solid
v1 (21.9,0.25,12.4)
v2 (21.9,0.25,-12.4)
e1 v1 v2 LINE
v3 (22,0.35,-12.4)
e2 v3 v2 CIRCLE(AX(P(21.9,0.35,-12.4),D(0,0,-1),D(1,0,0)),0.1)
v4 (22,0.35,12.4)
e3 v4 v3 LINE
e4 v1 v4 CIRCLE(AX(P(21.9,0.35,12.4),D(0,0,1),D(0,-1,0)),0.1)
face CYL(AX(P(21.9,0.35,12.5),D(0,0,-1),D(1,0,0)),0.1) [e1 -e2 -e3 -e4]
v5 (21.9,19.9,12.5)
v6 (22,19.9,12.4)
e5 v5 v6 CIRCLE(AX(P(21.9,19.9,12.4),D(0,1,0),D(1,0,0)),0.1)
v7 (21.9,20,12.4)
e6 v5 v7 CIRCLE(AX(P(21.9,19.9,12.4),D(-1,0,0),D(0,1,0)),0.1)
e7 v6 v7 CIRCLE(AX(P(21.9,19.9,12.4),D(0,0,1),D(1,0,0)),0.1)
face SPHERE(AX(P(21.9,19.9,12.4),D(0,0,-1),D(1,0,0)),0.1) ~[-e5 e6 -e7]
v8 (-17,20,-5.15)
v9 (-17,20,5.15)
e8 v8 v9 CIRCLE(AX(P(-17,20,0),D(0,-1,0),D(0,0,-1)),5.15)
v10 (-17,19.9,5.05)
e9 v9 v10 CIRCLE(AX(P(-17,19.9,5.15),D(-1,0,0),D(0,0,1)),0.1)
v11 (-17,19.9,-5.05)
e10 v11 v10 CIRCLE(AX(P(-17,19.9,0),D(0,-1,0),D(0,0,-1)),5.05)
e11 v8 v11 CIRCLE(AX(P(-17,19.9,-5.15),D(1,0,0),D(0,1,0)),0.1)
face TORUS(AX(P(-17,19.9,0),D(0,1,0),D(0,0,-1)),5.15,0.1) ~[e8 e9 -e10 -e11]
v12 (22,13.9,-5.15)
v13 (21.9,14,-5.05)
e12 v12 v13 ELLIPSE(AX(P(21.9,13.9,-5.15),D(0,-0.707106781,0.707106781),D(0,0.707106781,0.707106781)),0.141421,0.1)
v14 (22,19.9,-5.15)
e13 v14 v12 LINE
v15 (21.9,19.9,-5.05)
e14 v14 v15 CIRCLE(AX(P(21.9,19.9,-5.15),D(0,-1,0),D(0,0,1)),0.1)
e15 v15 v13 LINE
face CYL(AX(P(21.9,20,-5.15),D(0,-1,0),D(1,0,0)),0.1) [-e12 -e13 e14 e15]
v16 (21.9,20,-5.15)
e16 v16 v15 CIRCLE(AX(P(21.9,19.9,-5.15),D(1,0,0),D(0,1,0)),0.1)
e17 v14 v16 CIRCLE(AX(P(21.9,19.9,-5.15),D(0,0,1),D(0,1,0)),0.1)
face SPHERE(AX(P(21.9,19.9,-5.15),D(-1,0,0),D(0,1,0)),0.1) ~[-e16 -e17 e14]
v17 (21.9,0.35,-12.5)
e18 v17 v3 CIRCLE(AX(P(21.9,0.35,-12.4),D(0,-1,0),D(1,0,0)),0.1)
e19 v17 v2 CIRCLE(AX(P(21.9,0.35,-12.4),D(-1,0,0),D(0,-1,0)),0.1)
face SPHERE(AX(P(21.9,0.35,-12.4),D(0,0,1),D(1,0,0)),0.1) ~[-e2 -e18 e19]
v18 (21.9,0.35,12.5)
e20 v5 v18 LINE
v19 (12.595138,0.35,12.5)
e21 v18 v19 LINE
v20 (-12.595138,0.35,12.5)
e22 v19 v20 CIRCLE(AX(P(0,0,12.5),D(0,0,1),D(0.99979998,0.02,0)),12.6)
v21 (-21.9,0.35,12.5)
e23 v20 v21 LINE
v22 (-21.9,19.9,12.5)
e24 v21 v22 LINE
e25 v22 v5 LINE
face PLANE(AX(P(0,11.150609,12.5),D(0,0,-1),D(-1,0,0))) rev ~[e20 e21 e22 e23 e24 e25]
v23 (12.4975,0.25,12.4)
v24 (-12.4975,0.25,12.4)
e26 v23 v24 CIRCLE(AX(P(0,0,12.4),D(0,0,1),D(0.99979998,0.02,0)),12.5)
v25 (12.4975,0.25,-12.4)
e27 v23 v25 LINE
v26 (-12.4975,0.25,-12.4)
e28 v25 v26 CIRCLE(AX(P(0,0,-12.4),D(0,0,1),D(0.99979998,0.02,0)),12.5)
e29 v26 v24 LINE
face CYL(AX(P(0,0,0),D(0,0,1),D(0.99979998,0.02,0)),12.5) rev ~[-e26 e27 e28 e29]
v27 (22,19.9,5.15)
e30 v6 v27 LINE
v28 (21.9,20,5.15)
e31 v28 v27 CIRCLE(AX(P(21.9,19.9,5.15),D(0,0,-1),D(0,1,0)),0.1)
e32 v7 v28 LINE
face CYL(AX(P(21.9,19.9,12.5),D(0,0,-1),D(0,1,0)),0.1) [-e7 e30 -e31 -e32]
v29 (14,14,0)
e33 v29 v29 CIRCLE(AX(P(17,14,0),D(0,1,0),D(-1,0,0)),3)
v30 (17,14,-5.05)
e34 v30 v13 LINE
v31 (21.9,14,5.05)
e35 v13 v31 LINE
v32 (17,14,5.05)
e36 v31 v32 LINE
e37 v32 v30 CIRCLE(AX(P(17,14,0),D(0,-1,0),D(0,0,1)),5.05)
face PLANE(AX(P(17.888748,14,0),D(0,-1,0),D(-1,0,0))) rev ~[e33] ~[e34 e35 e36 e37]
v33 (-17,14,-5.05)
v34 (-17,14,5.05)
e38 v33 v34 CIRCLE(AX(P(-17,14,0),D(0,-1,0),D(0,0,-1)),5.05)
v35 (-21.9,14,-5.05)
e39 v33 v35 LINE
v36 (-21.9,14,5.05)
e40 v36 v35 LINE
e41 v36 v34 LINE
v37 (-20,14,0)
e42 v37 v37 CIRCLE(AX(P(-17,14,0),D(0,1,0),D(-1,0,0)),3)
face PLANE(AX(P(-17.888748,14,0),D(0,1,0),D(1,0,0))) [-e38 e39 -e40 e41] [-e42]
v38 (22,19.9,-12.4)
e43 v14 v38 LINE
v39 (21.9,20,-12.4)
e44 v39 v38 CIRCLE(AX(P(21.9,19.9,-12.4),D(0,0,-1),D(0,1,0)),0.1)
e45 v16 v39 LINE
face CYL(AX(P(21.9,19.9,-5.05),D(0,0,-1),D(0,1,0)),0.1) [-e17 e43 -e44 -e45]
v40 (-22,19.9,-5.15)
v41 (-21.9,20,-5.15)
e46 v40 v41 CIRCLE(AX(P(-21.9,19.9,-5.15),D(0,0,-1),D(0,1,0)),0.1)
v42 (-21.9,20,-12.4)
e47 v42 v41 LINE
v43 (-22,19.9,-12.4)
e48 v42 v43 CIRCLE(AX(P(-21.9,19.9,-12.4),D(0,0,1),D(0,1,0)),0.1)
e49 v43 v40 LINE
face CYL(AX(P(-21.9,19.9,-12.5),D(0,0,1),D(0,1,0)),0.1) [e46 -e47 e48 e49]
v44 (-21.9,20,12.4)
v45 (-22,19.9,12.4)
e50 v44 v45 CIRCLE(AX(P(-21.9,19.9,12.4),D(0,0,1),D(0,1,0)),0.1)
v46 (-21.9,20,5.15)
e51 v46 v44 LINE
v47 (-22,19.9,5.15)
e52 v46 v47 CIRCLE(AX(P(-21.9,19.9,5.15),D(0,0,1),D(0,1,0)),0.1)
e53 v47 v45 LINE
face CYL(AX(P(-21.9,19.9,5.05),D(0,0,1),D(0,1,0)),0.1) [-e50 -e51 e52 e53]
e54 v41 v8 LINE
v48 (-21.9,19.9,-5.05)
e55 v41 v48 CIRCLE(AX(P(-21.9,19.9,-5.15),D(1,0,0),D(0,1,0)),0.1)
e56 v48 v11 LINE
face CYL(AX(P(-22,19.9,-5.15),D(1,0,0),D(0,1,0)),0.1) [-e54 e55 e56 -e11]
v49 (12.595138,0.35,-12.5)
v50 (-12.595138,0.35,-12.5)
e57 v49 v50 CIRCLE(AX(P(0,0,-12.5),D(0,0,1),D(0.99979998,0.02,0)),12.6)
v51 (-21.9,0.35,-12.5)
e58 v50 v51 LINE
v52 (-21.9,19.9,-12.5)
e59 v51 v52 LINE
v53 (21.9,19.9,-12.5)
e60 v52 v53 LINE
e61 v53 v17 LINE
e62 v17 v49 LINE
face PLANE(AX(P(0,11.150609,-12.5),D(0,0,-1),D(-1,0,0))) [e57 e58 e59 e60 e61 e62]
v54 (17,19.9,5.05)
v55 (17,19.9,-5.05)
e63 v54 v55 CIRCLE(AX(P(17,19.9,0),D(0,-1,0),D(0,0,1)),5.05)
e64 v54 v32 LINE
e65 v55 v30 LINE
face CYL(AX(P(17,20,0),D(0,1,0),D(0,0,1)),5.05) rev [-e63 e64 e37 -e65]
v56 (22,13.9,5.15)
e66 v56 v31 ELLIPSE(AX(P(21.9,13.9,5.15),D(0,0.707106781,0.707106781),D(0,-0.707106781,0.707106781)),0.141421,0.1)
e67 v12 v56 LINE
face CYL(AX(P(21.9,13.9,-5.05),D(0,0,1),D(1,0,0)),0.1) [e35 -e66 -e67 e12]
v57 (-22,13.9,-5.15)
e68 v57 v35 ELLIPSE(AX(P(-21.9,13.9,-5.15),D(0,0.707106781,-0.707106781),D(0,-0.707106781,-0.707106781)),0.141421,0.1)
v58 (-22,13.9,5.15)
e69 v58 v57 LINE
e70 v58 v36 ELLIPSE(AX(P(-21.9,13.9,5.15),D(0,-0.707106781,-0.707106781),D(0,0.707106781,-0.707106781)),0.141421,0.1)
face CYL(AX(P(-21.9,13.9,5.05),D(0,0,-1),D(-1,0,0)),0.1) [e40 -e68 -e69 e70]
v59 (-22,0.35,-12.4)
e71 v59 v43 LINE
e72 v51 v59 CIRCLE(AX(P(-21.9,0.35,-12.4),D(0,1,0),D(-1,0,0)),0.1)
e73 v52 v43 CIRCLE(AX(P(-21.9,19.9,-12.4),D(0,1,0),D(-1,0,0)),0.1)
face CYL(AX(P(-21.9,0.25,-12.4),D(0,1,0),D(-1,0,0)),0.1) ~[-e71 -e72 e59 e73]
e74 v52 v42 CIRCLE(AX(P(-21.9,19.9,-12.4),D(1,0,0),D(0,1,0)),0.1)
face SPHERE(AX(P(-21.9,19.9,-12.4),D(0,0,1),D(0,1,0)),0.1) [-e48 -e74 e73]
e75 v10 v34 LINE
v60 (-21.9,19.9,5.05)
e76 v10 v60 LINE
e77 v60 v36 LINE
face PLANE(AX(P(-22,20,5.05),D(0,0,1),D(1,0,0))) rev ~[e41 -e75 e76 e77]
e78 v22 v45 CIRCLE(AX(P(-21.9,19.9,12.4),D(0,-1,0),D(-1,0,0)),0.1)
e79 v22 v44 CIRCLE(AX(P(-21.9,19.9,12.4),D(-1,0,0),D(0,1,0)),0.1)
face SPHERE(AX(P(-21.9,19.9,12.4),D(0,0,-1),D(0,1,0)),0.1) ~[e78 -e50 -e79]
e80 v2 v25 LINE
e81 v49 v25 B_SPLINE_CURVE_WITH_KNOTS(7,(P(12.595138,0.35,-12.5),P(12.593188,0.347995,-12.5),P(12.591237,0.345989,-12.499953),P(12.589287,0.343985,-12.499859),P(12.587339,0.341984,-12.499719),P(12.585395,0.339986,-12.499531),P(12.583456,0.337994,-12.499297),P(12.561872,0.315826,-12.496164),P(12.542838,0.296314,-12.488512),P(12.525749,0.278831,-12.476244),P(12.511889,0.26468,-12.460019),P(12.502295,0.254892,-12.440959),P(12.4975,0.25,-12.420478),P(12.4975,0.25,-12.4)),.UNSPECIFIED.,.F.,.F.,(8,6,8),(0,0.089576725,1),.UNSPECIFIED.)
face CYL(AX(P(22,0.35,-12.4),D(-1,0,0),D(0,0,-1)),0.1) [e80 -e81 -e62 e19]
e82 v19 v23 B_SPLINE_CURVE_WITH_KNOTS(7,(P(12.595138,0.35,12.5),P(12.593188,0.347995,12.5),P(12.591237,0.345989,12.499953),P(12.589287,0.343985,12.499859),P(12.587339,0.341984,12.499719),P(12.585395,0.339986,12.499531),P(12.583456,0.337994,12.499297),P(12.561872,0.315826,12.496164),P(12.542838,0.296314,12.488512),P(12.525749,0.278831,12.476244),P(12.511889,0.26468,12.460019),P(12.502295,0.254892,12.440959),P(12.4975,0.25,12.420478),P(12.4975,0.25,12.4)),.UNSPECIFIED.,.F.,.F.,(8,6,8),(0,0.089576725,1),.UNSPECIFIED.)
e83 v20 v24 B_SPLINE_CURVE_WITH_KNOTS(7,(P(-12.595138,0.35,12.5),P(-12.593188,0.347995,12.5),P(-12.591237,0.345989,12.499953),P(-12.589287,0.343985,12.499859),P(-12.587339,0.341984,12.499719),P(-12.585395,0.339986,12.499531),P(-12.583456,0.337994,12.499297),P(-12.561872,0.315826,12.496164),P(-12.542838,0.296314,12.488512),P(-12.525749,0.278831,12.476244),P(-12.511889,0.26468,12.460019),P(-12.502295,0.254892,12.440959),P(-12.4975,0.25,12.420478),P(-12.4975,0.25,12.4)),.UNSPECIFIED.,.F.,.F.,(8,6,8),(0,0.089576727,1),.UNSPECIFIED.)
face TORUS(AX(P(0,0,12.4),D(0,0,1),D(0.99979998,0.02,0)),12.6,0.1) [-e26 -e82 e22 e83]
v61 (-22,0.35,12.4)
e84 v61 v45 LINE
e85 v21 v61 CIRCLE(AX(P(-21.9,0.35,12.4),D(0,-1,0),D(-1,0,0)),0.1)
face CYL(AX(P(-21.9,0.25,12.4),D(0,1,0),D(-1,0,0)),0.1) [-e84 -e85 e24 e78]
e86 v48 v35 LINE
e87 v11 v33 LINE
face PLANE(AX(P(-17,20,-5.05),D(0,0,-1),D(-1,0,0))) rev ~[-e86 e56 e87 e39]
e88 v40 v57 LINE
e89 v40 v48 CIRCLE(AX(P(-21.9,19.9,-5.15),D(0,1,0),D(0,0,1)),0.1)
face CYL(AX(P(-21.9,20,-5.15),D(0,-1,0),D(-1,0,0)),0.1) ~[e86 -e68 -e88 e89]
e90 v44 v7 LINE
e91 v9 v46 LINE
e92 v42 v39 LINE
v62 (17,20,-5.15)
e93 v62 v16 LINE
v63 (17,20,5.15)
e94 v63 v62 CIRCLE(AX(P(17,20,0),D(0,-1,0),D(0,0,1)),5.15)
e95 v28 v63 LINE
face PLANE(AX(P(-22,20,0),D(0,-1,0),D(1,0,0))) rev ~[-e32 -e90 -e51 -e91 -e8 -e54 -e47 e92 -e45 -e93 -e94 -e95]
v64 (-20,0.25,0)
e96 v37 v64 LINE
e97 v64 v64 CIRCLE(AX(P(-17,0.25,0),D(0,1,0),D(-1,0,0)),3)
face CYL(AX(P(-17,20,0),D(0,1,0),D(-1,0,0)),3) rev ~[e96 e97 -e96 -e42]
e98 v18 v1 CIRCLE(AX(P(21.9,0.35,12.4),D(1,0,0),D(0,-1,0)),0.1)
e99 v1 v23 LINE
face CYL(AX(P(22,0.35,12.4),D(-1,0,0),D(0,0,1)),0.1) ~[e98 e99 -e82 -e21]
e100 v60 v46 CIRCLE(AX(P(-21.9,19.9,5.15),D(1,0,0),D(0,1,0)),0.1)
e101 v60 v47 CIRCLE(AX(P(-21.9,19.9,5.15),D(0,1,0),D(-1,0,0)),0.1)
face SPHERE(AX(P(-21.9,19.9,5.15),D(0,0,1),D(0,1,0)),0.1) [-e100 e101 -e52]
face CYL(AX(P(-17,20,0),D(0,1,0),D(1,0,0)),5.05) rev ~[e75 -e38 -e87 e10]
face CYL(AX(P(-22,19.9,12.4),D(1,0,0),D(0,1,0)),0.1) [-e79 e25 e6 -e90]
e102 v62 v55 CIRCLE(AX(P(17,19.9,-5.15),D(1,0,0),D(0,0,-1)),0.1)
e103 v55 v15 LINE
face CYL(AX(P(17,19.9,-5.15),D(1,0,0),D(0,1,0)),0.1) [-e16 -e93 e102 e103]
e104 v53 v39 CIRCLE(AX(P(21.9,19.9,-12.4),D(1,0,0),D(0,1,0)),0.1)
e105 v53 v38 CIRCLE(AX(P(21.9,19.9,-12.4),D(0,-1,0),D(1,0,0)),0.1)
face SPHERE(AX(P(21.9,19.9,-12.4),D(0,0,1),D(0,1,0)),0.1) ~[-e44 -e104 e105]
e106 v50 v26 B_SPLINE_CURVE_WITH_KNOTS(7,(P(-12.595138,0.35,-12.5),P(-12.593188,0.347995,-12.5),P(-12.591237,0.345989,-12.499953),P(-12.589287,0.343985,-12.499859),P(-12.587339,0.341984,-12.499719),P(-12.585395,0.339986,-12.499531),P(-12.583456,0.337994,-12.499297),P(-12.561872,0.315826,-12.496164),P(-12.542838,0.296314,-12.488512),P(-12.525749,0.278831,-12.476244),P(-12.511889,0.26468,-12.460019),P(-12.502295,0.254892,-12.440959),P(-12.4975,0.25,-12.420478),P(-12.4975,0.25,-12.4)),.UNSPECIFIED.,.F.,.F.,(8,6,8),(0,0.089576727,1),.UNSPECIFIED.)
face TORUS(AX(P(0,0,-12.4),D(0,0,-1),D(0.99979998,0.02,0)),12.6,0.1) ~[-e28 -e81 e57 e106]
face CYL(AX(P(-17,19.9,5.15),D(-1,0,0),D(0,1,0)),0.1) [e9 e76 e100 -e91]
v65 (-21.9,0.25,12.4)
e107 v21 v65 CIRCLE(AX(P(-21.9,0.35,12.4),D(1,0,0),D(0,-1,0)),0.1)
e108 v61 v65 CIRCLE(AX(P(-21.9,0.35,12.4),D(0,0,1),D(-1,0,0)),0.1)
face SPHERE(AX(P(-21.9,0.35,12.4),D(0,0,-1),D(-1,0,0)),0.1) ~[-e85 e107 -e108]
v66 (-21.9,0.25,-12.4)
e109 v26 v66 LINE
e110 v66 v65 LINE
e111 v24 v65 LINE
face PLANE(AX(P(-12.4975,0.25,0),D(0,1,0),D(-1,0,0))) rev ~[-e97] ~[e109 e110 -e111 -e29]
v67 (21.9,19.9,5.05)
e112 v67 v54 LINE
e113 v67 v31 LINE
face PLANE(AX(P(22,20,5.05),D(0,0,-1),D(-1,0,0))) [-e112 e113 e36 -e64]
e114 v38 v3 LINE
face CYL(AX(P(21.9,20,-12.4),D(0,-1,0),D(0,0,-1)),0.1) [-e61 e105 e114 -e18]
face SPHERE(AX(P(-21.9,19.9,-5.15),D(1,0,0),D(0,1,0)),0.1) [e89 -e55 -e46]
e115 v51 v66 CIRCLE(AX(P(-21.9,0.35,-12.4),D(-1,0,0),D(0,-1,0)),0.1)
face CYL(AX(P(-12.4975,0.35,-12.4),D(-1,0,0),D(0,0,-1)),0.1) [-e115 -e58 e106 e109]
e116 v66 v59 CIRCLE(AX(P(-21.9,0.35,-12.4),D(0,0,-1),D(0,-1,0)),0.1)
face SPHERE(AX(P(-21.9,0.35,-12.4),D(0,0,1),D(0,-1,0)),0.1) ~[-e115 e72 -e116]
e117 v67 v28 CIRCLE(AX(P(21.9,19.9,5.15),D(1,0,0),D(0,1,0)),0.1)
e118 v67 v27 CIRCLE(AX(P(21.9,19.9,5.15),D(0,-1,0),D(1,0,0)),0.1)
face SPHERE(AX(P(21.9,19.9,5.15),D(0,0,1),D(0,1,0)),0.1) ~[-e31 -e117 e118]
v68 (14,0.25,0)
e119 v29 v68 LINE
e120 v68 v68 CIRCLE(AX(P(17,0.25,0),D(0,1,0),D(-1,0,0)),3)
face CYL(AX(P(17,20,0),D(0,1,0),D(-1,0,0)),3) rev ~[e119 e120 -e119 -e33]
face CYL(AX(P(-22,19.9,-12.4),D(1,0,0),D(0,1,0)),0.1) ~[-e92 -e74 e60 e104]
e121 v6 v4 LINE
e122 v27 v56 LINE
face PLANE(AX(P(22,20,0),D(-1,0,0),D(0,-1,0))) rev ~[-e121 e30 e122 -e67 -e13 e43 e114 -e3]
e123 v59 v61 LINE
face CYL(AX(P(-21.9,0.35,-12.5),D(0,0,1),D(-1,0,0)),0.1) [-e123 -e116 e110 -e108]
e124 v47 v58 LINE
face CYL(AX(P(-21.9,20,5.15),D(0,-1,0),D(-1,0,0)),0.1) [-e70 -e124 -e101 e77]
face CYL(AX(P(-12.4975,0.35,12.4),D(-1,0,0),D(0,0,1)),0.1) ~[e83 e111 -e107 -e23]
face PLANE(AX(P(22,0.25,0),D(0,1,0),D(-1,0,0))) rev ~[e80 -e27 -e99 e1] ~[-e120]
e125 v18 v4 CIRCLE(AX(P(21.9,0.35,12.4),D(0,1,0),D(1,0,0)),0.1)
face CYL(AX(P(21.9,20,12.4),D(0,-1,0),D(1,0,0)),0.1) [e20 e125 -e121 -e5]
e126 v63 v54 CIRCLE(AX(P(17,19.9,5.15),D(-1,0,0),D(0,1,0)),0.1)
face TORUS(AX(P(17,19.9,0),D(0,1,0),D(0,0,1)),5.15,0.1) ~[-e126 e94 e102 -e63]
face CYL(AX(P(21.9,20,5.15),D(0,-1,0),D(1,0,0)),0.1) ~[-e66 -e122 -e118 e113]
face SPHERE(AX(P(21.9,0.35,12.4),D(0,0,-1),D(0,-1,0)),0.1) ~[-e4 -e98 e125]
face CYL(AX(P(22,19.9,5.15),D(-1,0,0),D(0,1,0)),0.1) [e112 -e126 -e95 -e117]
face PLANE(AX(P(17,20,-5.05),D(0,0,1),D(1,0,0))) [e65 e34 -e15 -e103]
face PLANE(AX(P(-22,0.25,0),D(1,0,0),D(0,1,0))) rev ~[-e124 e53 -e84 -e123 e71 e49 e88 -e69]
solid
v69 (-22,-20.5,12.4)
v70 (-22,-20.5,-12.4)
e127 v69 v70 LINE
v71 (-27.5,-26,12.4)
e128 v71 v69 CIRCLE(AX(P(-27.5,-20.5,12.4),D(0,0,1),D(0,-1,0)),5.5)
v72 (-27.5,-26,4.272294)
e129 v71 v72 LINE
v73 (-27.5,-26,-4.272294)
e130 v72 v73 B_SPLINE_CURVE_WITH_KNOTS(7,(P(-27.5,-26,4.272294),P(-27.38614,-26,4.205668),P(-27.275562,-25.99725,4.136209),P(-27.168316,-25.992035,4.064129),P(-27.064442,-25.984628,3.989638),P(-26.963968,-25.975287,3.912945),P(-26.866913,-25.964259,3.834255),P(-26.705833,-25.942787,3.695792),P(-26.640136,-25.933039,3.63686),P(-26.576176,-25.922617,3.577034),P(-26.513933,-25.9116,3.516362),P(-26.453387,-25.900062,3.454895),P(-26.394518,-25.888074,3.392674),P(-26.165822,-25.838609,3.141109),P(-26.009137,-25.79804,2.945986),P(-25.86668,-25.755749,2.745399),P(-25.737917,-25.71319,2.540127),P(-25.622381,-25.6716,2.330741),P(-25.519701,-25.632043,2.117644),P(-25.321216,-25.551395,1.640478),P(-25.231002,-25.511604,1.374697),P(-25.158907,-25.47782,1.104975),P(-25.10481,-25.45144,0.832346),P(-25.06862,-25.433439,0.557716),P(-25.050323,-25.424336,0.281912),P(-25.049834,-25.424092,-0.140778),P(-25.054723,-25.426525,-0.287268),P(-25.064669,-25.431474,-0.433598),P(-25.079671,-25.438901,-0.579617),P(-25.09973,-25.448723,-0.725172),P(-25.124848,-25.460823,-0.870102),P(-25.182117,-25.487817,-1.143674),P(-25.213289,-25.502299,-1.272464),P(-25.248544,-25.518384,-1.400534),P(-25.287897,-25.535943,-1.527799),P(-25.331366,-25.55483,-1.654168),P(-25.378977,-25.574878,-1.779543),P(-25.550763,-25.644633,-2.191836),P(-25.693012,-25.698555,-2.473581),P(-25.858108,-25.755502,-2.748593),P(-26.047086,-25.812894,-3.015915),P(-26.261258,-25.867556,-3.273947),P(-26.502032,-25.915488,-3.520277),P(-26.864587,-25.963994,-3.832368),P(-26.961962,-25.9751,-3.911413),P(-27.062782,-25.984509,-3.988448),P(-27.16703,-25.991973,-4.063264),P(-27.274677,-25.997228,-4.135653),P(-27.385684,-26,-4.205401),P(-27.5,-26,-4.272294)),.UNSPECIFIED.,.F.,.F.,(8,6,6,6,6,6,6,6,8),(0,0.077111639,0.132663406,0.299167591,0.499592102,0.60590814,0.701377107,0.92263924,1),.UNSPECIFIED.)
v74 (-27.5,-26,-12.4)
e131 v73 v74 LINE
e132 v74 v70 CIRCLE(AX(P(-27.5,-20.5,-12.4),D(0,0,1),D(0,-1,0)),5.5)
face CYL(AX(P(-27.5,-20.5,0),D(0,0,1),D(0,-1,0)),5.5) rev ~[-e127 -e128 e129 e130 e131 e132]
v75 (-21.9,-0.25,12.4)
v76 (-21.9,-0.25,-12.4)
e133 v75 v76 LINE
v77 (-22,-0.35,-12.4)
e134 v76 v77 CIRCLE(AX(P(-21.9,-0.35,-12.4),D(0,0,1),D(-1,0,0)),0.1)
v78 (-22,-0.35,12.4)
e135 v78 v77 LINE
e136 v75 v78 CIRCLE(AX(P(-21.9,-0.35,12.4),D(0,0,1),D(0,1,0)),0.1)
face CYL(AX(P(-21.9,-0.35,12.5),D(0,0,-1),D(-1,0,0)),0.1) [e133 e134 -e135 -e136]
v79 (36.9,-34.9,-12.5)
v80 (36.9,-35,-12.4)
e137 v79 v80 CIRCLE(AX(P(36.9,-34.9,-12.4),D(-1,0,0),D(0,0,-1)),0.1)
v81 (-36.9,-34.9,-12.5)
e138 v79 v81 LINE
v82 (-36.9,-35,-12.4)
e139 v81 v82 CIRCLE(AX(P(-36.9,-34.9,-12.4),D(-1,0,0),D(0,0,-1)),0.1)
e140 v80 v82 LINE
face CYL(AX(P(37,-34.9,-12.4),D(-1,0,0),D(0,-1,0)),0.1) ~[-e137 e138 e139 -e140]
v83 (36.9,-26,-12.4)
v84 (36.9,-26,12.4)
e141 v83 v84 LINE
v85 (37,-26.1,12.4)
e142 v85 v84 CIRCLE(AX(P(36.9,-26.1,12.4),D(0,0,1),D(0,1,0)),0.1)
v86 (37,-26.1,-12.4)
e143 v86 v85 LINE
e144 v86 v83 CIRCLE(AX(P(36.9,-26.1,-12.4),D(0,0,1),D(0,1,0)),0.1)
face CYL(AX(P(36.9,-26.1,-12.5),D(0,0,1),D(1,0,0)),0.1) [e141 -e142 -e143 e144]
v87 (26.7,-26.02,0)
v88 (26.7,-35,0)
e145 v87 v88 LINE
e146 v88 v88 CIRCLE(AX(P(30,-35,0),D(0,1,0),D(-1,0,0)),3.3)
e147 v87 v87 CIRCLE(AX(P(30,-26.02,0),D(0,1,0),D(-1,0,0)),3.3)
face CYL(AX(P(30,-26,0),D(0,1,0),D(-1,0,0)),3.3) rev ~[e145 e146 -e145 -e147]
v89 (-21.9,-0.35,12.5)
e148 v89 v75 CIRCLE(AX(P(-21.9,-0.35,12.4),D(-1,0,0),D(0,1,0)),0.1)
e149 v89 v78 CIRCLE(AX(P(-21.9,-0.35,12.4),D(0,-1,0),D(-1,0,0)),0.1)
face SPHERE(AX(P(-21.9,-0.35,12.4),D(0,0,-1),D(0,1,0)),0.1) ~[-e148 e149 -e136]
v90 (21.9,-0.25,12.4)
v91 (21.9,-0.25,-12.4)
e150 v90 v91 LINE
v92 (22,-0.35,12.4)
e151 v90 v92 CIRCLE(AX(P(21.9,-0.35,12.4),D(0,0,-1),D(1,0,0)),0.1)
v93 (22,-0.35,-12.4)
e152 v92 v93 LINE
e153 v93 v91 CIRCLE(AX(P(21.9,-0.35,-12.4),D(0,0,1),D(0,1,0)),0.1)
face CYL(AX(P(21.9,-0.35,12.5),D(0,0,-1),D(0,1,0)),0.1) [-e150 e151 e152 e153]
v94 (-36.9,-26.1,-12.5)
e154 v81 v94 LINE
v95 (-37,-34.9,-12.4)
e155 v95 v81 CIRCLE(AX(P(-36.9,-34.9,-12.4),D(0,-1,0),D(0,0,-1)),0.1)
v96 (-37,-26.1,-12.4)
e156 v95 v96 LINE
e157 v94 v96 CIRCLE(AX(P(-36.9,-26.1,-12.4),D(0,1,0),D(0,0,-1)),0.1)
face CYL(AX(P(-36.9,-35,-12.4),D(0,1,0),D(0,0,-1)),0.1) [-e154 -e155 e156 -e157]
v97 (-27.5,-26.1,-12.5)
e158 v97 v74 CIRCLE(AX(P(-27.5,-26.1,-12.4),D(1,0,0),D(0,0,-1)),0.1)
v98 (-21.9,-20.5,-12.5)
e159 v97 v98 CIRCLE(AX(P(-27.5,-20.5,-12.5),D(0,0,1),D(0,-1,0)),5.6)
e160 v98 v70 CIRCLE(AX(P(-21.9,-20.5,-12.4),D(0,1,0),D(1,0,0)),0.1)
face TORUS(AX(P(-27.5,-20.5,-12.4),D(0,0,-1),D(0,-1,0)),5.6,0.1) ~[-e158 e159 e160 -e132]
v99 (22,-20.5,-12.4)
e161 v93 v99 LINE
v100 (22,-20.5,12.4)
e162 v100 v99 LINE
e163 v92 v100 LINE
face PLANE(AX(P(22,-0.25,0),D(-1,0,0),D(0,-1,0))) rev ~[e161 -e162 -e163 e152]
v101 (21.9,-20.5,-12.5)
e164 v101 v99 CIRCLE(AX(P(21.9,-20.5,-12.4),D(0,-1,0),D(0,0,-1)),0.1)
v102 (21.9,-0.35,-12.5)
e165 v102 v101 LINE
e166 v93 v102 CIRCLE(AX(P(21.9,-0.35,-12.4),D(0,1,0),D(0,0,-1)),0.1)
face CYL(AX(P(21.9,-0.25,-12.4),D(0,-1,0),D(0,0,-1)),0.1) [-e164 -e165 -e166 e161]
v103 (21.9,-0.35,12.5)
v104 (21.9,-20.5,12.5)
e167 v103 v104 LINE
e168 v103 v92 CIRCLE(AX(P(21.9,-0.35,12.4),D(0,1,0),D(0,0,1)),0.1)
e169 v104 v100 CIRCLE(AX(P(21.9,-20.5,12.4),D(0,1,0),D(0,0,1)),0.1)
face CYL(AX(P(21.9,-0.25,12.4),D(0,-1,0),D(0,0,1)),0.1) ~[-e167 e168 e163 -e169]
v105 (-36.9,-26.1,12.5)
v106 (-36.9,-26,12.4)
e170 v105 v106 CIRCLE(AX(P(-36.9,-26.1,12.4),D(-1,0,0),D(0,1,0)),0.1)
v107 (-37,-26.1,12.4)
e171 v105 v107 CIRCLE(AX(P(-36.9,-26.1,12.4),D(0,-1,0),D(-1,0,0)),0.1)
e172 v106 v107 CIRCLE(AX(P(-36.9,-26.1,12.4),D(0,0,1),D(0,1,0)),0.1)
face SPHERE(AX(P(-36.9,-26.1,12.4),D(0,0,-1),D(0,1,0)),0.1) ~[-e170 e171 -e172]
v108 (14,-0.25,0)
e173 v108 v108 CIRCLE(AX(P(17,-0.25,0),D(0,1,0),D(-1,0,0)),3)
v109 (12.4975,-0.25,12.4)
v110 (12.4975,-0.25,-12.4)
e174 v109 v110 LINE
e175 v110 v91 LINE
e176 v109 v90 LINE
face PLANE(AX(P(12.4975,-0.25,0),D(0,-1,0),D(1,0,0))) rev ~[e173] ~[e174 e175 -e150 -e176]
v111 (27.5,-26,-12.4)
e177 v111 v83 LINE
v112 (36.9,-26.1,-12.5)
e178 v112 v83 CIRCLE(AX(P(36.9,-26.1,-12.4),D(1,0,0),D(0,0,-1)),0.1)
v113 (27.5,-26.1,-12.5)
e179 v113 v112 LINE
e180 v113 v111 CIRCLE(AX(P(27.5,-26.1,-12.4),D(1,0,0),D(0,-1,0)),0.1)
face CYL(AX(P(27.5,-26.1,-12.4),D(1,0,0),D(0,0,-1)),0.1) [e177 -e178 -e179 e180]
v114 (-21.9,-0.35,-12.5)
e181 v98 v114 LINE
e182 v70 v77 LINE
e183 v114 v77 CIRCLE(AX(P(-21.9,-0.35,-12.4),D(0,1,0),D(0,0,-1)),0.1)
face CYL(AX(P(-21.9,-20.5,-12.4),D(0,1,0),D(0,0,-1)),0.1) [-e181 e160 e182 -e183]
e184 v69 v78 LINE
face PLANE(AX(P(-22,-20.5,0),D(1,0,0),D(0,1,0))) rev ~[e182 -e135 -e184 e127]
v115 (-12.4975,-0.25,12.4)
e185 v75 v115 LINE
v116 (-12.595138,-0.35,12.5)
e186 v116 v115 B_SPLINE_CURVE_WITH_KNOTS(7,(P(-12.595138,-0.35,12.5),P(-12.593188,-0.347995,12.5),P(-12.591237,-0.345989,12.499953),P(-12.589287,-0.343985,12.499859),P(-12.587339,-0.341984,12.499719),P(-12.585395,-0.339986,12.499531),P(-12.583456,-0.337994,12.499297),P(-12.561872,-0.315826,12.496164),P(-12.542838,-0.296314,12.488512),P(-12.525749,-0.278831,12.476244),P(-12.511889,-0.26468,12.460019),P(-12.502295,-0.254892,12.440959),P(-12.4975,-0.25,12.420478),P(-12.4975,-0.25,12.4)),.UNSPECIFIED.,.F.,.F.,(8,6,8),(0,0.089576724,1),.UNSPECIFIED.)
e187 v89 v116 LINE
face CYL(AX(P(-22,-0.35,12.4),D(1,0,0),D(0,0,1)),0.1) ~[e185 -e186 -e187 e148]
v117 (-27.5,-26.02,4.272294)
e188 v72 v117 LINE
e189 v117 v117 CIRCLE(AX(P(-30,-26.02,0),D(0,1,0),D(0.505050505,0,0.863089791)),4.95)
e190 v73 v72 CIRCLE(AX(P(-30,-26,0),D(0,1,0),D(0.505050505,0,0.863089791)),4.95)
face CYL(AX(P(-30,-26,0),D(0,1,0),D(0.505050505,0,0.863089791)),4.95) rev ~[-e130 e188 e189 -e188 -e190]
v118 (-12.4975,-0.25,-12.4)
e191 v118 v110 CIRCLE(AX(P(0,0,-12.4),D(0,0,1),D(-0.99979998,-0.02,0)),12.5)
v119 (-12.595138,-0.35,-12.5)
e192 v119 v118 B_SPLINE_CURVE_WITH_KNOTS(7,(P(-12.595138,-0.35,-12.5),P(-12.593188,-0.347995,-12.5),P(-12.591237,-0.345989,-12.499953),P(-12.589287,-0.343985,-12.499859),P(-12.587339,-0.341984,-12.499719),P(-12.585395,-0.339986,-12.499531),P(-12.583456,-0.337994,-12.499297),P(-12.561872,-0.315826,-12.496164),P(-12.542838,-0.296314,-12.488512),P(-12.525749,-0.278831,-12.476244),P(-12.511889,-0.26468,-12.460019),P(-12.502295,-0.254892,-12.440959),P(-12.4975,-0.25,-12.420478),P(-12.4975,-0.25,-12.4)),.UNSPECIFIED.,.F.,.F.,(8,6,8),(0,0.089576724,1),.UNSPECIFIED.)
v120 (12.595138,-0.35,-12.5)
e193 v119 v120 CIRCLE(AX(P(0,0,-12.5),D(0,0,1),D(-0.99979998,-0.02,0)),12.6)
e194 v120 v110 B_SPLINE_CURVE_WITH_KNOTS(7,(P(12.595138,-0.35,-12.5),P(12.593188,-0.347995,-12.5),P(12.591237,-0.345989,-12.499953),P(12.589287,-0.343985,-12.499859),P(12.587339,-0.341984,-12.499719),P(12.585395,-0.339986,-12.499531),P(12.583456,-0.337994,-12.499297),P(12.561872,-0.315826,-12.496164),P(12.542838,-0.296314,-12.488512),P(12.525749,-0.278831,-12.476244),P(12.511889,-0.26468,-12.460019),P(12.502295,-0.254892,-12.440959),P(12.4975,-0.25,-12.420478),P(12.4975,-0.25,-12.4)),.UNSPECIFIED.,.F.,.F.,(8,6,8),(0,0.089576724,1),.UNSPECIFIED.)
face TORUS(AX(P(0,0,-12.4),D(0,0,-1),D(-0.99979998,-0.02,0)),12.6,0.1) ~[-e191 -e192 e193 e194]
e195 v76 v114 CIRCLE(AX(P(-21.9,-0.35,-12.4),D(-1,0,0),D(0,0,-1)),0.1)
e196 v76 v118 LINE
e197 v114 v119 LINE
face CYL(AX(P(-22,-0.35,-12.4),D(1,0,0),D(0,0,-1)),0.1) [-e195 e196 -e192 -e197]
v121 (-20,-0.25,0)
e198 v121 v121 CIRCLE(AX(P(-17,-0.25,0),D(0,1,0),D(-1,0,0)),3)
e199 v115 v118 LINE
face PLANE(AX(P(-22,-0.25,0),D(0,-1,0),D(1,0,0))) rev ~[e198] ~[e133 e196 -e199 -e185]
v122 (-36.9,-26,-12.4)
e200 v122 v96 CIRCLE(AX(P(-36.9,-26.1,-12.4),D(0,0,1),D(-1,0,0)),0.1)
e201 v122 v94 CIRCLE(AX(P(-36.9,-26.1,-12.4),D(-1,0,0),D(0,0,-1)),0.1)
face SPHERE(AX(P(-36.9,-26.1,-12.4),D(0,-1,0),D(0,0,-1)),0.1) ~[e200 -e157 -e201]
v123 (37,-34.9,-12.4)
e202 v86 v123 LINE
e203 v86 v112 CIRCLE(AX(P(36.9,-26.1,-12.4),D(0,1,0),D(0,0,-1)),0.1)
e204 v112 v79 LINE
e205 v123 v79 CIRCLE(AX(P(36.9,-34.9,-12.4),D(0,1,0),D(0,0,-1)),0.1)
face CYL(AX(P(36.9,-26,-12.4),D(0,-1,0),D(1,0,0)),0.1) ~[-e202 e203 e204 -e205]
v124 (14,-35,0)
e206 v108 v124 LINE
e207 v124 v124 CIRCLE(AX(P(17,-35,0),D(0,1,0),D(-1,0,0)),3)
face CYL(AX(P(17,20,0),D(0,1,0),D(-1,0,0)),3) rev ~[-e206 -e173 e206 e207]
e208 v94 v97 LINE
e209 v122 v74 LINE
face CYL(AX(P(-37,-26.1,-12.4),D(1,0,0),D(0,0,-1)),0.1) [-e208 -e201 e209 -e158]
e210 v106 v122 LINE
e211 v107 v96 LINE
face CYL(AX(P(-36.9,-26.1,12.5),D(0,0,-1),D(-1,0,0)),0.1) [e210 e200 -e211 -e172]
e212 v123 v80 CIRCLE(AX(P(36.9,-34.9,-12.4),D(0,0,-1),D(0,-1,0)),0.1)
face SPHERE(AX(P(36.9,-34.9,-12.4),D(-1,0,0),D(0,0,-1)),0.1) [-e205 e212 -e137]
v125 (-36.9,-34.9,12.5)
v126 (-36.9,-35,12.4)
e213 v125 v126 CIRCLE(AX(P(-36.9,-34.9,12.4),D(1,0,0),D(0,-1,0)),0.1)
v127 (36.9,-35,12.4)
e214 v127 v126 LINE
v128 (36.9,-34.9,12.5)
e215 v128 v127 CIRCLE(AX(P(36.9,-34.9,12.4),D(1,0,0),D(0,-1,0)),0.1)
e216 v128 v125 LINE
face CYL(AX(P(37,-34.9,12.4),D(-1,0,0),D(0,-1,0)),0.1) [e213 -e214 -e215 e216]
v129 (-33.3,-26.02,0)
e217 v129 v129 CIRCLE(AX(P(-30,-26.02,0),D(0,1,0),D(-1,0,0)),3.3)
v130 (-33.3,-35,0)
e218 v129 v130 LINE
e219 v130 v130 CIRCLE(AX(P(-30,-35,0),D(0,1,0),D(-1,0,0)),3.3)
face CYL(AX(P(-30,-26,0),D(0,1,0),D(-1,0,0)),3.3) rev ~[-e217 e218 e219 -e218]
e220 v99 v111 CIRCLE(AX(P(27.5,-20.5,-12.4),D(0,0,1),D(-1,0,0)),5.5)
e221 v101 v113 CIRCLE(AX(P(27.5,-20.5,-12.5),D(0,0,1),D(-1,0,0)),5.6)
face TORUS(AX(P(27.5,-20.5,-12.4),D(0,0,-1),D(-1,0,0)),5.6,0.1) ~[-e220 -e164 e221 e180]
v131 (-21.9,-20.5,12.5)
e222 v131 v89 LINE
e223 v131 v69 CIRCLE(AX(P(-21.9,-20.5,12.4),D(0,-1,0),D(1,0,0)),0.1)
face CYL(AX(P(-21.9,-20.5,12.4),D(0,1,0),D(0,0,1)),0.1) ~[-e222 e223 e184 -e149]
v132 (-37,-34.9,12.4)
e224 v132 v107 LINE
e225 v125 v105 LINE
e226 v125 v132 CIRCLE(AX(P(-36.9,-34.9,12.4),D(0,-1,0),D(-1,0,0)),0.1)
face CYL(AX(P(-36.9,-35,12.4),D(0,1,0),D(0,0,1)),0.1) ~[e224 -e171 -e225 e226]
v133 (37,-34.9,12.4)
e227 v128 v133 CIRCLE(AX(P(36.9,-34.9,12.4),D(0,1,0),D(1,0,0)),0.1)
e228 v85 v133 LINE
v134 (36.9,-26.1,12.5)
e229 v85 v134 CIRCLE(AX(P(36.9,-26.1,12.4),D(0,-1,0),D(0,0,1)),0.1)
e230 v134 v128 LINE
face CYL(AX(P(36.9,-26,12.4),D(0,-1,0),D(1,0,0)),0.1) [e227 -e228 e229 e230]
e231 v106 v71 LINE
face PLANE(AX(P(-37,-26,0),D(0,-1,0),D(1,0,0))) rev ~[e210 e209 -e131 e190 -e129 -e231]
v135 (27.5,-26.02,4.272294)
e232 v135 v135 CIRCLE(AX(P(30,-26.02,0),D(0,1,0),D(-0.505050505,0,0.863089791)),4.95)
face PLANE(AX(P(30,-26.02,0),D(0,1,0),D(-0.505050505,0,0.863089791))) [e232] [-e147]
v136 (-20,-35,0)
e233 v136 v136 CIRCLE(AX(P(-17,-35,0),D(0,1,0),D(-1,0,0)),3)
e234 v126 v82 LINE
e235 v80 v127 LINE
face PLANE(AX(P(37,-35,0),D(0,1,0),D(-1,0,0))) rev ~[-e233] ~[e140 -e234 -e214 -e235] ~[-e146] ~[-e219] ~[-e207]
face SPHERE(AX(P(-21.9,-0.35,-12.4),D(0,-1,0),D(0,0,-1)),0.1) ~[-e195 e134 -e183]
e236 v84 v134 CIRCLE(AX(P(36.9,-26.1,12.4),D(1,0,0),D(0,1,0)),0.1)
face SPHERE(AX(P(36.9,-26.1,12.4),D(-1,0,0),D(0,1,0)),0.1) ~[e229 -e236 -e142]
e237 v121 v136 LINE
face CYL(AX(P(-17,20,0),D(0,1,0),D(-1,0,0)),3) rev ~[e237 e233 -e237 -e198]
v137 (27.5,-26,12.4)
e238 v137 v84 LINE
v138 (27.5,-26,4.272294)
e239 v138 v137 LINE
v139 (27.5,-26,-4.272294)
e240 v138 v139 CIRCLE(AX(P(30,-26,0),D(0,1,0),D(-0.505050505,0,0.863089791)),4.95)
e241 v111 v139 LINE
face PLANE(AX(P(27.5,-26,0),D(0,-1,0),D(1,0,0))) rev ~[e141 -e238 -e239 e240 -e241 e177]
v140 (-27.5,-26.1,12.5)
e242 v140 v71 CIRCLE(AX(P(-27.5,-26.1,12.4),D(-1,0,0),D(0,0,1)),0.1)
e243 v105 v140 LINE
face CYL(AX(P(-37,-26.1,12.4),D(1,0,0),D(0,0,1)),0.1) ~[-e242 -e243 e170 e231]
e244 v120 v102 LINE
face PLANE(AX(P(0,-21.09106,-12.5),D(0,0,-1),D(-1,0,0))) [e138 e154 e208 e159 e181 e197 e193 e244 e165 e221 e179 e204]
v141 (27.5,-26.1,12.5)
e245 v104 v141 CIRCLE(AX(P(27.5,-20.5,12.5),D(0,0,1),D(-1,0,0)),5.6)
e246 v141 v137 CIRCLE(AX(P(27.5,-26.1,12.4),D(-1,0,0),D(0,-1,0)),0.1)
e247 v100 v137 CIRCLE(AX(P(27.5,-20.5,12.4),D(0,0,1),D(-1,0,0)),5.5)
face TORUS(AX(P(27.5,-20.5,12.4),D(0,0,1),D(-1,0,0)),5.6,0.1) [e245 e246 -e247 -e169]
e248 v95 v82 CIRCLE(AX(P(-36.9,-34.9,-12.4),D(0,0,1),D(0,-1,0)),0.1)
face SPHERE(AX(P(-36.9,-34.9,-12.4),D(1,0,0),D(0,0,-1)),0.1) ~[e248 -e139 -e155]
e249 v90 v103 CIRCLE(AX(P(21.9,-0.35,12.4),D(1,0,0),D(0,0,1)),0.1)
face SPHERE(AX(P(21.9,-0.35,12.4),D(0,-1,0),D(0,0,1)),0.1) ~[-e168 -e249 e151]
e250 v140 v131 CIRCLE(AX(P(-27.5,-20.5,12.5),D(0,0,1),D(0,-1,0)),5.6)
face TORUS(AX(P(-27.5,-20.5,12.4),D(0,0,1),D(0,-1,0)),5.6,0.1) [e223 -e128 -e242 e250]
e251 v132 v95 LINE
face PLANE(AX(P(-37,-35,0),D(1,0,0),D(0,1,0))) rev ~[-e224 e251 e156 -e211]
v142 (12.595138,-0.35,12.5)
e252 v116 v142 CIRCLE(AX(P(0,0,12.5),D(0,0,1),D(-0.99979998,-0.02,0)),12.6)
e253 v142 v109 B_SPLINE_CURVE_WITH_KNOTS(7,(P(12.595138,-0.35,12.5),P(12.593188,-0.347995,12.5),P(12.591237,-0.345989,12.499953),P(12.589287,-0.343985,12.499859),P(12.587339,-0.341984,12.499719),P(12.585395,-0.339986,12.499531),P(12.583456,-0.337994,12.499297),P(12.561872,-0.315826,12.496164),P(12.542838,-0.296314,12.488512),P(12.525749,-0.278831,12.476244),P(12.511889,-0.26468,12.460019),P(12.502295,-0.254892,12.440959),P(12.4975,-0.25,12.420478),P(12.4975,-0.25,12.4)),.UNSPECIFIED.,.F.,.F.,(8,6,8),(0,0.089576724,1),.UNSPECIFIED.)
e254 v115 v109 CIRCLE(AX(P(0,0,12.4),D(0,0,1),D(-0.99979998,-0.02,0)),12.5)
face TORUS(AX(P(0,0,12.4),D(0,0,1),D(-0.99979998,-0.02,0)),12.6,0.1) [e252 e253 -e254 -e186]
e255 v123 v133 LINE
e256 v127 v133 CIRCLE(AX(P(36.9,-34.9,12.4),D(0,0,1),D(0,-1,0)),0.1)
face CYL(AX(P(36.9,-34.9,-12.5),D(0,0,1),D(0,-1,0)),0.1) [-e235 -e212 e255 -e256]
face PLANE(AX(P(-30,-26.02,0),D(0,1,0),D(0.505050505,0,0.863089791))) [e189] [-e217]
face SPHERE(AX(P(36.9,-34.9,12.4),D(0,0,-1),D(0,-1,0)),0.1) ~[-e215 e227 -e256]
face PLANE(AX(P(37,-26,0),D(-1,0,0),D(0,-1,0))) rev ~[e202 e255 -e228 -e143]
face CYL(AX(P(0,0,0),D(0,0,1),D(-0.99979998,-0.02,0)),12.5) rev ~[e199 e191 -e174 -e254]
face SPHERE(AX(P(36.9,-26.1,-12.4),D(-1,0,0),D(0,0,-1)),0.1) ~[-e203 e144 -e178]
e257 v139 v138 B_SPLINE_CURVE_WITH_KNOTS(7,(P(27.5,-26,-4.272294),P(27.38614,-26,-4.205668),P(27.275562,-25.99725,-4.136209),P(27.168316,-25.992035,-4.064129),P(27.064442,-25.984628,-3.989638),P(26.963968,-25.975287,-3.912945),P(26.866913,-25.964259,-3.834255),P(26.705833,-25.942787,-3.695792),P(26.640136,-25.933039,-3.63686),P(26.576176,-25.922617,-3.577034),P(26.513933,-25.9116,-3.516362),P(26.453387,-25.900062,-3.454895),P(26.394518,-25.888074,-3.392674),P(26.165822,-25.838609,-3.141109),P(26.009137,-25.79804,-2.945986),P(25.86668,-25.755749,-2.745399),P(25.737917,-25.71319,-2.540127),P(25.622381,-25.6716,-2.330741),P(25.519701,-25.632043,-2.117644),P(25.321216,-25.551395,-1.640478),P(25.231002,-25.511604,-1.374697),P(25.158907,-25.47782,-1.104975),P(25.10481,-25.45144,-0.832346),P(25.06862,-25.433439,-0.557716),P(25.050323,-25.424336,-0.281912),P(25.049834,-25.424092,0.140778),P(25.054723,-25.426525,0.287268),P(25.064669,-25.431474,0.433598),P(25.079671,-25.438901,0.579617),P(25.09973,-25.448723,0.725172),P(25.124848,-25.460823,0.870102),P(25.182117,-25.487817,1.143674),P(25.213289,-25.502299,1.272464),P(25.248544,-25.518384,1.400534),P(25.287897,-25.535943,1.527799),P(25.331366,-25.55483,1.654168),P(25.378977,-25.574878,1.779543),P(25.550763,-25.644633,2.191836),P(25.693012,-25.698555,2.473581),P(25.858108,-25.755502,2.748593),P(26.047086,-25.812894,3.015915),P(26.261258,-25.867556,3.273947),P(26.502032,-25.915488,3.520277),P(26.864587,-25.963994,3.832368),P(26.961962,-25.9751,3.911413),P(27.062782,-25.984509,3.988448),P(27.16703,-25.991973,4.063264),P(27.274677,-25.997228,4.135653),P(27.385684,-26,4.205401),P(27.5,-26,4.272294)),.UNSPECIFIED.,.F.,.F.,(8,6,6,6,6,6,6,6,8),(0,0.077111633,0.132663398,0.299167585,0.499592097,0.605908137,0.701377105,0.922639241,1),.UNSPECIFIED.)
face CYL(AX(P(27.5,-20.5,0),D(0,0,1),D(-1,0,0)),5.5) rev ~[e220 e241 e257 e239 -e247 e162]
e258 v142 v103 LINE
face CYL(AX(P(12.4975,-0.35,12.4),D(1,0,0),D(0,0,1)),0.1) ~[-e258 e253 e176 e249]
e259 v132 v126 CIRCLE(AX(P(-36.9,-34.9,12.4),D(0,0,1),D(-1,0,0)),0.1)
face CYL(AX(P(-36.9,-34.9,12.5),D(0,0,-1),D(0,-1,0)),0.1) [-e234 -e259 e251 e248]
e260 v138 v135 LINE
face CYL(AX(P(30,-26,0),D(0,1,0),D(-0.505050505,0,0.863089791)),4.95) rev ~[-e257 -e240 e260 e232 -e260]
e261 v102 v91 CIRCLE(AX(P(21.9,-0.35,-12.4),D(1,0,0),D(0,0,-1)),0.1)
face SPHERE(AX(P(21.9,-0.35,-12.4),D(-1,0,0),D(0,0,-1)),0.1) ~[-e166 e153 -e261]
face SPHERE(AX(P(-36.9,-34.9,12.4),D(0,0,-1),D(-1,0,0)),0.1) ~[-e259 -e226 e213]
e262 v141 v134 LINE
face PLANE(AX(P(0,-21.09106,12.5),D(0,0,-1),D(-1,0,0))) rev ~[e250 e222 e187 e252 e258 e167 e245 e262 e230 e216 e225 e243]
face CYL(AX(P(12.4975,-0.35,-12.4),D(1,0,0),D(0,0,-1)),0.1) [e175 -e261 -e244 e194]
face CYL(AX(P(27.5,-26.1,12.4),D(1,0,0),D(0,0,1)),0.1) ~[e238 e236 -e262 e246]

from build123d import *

# Parameters (mm, degrees)
BOSS_EXTRUDE1_DEPTH     = 12.5
BOSS_EXTRUDE1_2_DEPTH   = 12.5
SKETCH4_R               = 3.3
CUT_EXTRUDE1_DEPTH      = 61.342770901
SKETCH5_R               = 4.95
CUT_EXTRUDE2_DEPTH      = 61.342770901
CUT_EXTRUDE2_DEPTH_BACK = 0.02
SKETCH6_R               = 5.05
CUT_EXTRUDE3_DEPTH      = 6
CUT_EXTRUDE6_DEPTH      = 6
SKETCH8_R               = 3
CUT_EXTRUDE4_DEPTH      = 68.455540933
FILLET1_R               = 0.1
FILLET2_R               = 0.1


with BuildPart() as part:
    # Sketch2 → Boss-Extrude1 (new, symmetric)
    with BuildSketch(Plane.XY):
        with BuildLine():
            Line((-22, 20), (22, 20))
            Line((22, 20), (22, 0.25))
            Line((22, 0.25), (12.49749975, 0.25))
            ThreePointArc((12.49749975, 0.25), (0, 12.5), (-12.49749975, 0.25))
            Line((-12.49749975, 0.25), (-22, 0.25))
            Line((-22, 0.25), (-22, 20))
        make_face()
    extrude(amount=BOSS_EXTRUDE1_DEPTH, both=True)

    # Sketch6 → Cut-Extrude3 (cut)
    with BuildSketch(Plane(origin=(0, 20, 0), x_dir=(1, 0, 0), z_dir=(0, 1, 0))):
        with Locations((-17, 0)):
            Circle(SKETCH6_R)
        with Locations((17, 0)):
            Circle(SKETCH6_R)
    extrude(amount=-CUT_EXTRUDE3_DEPTH, mode=Mode.SUBTRACT)

    # Sketch12 → Cut-Extrude6 (cut)
    with BuildSketch(Plane(origin=(0, 20, 0), x_dir=(1, 0, 0), z_dir=(0, 1, 0))):
        with BuildLine():
            Line((-17, 5.05), (-22, 5.05))
            Line((-22, 5.05), (-22, -5.05))
            Line((-22, -5.05), (-17, -5.05))
            ThreePointArc((-17, -5.05), (-11.95, 0), (-17, 5.05))
        make_face()
        with BuildLine():
            Line((22, -5.05), (17, -5.05))
            ThreePointArc((17, -5.05), (11.95, 0), (17, 5.05))
            Line((17, 5.05), (22, 5.05))
            Line((22, 5.05), (22, -5.05))
        make_face()
    extrude(amount=-CUT_EXTRUDE6_DEPTH, mode=Mode.SUBTRACT)


with BuildPart() as body_2:
    # Sketch2 → Boss-Extrude1 2 (new, symmetric)
    with BuildSketch(Plane.XY):
        with BuildLine():
            Line((37, -35), (-37, -35))
            Line((-37, -35), (-37, -26))
            Line((-37, -26), (-27.5, -26))
            ThreePointArc((-27.5, -26), (-23.610912703, -24.389087297), (-22, -20.5))
            Line((-22, -20.5), (-22, -0.25))
            Line((-22, -0.25), (-12.49749975, -0.25))
            ThreePointArc((-12.49749975, -0.25), (0, -12.5), (12.49749975, -0.25))
            Line((12.49749975, -0.25), (22, -0.25))
            Line((22, -0.25), (22, -20.5))
            ThreePointArc((22, -20.5), (23.610912703, -24.389087297), (27.5, -26))
            Line((27.5, -26), (37, -26))
            Line((37, -26), (37, -35))
        make_face()
    extrude(amount=BOSS_EXTRUDE1_2_DEPTH, both=True)

    # Sketch4 → Cut-Extrude1 (cut, through all)
    with BuildSketch(Plane(origin=(0, -26, 0), x_dir=(1, 0, 0), z_dir=(0, 1, 0))):
        with Locations(Location((-30, 0, 0), (0, 0, 180))):
            Circle(SKETCH4_R)
        with Locations(Location((30, 0, 0), (0, 0, 180))):
            Circle(SKETCH4_R)
    extrude(amount=-CUT_EXTRUDE1_DEPTH, mode=Mode.SUBTRACT)

    # Sketch5 → Cut-Extrude2 (cut, two sides)
    with BuildSketch(Plane(origin=(0, -26, 0), x_dir=(1, 0, 0), z_dir=(0, 1, 0))) as cut_extrude2_sk:
        with Locations(Location((30, 0, 0), (0, 0, 239.665294942))):
            Circle(SKETCH5_R)
        with Locations(Location((-30, 0, 0), (0, 0, 300.334705058))):
            Circle(SKETCH5_R)
    extrude(amount=CUT_EXTRUDE2_DEPTH, mode=Mode.SUBTRACT)
    extrude(cut_extrude2_sk.sketch, amount=-CUT_EXTRUDE2_DEPTH_BACK, mode=Mode.SUBTRACT)


with BuildPart() as cut_extrude4_tool:
    # Sketch8 → Cut-Extrude4 (new, through all)
    with BuildSketch(Plane(origin=(0, 20, 0), x_dir=(1, 0, 0), z_dir=(0, 1, 0))):
        with Locations(Location((17, 0, 0), (0, 0, 180))):
            Circle(SKETCH8_R)
        with Locations(Location((-17, 0, 0), (0, 0, 180))):
            Circle(SKETCH8_R)
    extrude(amount=-CUT_EXTRUDE4_DEPTH)


with BuildPart() as part_1:
    add(part.part)

    # Cut-Extrude4: cut by cut_extrude4_tool
    add(cut_extrude4_tool.part, mode=Mode.SUBTRACT)

    # Fillet2
    fillet2_edges = [part_1.edges().sort_by_distance(p)[0] for p in [
        (0, 12.5, 12.5),
        (-22, 20, 8.775),
        (22, 20, 8.775),
        (22, 0.25, 0),
        (-22, 0.25, 0),
        (17.248749875, 0.25, 12.5),
        (22, 10.125, 12.5),
        (0, 20, 12.5),
        (22, 14, 0),
        (-22, 14, 0),
        (-11.95, 20, 0),
        (-22, 10.125, 12.5),
        (11.95, 20, 0),
        (-22, 20, -8.775),
        (22, 20, -8.775),
        (-22, 17, 5.05),
        (-19.5, 20, -5.05),
        (-19.5, 20, 5.05),
        (-22, 17, -5.05),
        (22, 17, -5.05),
        (19.5, 20, -5.05),
        (19.5, 20, 5.05),
        (0, 20, -12.5),
        (22, 17, 5.05),
        (22, 10.125, -12.5),
        (17.248749875, 0.25, -12.5),
        (-17.248749875, 0.25, 12.5),
        (0, 12.5, -12.5),
        (-17.248749875, 0.25, -12.5),
        (-22, 10.125, -12.5),
    ]]
    fillet(fillet2_edges, radius=FILLET2_R)


with BuildPart() as body_2_1:
    add(body_2.part)

    # Cut-Extrude4: cut by cut_extrude4_tool
    add(cut_extrude4_tool.part, mode=Mode.SUBTRACT)

    # Fillet1
    fillet1_edges = [body_2_1.edges().sort_by_distance(p)[0] for p in [
        (23.610912703, -24.389087297, 12.5),
        (0, -35, -12.5),
        (-37, -30.5, -12.5),
        (-32.25, -26, -12.5),
        (-23.610912703, -24.389087297, -12.5),
        (-22, -10.375, -12.5),
        (-17.248749875, -0.25, -12.5),
        (22, -10.375, 12.5),
        (0, -12.5, -12.5),
        (17.248749875, -0.25, -12.5),
        (22, -10.375, -12.5),
        (23.610912703, -24.389087297, -12.5),
        (32.25, -26, -12.5),
        (37, -30.5, -12.5),
        (17.248749875, -0.25, 12.5),
        (0, -12.5, 12.5),
        (37, -35, 0),
        (-37, -35, 0),
        (-37, -26, 0),
        (-22, -0.25, 0),
        (22, -0.25, 0),
        (37, -26, 0),
        (-17.248749875, -0.25, 12.5),
        (-22, -10.375, 12.5),
        (-23.610912703, -24.389087297, 12.5),
        (-32.25, -26, 12.5),
        (-37, -30.5, 12.5),
        (0, -35, 12.5),
        (37, -30.5, 12.5),
        (32.25, -26, 12.5),
    ]]
    fillet(fillet1_edges, radius=FILLET1_R)


solid = Compound([part_1.part, body_2_1.part])
